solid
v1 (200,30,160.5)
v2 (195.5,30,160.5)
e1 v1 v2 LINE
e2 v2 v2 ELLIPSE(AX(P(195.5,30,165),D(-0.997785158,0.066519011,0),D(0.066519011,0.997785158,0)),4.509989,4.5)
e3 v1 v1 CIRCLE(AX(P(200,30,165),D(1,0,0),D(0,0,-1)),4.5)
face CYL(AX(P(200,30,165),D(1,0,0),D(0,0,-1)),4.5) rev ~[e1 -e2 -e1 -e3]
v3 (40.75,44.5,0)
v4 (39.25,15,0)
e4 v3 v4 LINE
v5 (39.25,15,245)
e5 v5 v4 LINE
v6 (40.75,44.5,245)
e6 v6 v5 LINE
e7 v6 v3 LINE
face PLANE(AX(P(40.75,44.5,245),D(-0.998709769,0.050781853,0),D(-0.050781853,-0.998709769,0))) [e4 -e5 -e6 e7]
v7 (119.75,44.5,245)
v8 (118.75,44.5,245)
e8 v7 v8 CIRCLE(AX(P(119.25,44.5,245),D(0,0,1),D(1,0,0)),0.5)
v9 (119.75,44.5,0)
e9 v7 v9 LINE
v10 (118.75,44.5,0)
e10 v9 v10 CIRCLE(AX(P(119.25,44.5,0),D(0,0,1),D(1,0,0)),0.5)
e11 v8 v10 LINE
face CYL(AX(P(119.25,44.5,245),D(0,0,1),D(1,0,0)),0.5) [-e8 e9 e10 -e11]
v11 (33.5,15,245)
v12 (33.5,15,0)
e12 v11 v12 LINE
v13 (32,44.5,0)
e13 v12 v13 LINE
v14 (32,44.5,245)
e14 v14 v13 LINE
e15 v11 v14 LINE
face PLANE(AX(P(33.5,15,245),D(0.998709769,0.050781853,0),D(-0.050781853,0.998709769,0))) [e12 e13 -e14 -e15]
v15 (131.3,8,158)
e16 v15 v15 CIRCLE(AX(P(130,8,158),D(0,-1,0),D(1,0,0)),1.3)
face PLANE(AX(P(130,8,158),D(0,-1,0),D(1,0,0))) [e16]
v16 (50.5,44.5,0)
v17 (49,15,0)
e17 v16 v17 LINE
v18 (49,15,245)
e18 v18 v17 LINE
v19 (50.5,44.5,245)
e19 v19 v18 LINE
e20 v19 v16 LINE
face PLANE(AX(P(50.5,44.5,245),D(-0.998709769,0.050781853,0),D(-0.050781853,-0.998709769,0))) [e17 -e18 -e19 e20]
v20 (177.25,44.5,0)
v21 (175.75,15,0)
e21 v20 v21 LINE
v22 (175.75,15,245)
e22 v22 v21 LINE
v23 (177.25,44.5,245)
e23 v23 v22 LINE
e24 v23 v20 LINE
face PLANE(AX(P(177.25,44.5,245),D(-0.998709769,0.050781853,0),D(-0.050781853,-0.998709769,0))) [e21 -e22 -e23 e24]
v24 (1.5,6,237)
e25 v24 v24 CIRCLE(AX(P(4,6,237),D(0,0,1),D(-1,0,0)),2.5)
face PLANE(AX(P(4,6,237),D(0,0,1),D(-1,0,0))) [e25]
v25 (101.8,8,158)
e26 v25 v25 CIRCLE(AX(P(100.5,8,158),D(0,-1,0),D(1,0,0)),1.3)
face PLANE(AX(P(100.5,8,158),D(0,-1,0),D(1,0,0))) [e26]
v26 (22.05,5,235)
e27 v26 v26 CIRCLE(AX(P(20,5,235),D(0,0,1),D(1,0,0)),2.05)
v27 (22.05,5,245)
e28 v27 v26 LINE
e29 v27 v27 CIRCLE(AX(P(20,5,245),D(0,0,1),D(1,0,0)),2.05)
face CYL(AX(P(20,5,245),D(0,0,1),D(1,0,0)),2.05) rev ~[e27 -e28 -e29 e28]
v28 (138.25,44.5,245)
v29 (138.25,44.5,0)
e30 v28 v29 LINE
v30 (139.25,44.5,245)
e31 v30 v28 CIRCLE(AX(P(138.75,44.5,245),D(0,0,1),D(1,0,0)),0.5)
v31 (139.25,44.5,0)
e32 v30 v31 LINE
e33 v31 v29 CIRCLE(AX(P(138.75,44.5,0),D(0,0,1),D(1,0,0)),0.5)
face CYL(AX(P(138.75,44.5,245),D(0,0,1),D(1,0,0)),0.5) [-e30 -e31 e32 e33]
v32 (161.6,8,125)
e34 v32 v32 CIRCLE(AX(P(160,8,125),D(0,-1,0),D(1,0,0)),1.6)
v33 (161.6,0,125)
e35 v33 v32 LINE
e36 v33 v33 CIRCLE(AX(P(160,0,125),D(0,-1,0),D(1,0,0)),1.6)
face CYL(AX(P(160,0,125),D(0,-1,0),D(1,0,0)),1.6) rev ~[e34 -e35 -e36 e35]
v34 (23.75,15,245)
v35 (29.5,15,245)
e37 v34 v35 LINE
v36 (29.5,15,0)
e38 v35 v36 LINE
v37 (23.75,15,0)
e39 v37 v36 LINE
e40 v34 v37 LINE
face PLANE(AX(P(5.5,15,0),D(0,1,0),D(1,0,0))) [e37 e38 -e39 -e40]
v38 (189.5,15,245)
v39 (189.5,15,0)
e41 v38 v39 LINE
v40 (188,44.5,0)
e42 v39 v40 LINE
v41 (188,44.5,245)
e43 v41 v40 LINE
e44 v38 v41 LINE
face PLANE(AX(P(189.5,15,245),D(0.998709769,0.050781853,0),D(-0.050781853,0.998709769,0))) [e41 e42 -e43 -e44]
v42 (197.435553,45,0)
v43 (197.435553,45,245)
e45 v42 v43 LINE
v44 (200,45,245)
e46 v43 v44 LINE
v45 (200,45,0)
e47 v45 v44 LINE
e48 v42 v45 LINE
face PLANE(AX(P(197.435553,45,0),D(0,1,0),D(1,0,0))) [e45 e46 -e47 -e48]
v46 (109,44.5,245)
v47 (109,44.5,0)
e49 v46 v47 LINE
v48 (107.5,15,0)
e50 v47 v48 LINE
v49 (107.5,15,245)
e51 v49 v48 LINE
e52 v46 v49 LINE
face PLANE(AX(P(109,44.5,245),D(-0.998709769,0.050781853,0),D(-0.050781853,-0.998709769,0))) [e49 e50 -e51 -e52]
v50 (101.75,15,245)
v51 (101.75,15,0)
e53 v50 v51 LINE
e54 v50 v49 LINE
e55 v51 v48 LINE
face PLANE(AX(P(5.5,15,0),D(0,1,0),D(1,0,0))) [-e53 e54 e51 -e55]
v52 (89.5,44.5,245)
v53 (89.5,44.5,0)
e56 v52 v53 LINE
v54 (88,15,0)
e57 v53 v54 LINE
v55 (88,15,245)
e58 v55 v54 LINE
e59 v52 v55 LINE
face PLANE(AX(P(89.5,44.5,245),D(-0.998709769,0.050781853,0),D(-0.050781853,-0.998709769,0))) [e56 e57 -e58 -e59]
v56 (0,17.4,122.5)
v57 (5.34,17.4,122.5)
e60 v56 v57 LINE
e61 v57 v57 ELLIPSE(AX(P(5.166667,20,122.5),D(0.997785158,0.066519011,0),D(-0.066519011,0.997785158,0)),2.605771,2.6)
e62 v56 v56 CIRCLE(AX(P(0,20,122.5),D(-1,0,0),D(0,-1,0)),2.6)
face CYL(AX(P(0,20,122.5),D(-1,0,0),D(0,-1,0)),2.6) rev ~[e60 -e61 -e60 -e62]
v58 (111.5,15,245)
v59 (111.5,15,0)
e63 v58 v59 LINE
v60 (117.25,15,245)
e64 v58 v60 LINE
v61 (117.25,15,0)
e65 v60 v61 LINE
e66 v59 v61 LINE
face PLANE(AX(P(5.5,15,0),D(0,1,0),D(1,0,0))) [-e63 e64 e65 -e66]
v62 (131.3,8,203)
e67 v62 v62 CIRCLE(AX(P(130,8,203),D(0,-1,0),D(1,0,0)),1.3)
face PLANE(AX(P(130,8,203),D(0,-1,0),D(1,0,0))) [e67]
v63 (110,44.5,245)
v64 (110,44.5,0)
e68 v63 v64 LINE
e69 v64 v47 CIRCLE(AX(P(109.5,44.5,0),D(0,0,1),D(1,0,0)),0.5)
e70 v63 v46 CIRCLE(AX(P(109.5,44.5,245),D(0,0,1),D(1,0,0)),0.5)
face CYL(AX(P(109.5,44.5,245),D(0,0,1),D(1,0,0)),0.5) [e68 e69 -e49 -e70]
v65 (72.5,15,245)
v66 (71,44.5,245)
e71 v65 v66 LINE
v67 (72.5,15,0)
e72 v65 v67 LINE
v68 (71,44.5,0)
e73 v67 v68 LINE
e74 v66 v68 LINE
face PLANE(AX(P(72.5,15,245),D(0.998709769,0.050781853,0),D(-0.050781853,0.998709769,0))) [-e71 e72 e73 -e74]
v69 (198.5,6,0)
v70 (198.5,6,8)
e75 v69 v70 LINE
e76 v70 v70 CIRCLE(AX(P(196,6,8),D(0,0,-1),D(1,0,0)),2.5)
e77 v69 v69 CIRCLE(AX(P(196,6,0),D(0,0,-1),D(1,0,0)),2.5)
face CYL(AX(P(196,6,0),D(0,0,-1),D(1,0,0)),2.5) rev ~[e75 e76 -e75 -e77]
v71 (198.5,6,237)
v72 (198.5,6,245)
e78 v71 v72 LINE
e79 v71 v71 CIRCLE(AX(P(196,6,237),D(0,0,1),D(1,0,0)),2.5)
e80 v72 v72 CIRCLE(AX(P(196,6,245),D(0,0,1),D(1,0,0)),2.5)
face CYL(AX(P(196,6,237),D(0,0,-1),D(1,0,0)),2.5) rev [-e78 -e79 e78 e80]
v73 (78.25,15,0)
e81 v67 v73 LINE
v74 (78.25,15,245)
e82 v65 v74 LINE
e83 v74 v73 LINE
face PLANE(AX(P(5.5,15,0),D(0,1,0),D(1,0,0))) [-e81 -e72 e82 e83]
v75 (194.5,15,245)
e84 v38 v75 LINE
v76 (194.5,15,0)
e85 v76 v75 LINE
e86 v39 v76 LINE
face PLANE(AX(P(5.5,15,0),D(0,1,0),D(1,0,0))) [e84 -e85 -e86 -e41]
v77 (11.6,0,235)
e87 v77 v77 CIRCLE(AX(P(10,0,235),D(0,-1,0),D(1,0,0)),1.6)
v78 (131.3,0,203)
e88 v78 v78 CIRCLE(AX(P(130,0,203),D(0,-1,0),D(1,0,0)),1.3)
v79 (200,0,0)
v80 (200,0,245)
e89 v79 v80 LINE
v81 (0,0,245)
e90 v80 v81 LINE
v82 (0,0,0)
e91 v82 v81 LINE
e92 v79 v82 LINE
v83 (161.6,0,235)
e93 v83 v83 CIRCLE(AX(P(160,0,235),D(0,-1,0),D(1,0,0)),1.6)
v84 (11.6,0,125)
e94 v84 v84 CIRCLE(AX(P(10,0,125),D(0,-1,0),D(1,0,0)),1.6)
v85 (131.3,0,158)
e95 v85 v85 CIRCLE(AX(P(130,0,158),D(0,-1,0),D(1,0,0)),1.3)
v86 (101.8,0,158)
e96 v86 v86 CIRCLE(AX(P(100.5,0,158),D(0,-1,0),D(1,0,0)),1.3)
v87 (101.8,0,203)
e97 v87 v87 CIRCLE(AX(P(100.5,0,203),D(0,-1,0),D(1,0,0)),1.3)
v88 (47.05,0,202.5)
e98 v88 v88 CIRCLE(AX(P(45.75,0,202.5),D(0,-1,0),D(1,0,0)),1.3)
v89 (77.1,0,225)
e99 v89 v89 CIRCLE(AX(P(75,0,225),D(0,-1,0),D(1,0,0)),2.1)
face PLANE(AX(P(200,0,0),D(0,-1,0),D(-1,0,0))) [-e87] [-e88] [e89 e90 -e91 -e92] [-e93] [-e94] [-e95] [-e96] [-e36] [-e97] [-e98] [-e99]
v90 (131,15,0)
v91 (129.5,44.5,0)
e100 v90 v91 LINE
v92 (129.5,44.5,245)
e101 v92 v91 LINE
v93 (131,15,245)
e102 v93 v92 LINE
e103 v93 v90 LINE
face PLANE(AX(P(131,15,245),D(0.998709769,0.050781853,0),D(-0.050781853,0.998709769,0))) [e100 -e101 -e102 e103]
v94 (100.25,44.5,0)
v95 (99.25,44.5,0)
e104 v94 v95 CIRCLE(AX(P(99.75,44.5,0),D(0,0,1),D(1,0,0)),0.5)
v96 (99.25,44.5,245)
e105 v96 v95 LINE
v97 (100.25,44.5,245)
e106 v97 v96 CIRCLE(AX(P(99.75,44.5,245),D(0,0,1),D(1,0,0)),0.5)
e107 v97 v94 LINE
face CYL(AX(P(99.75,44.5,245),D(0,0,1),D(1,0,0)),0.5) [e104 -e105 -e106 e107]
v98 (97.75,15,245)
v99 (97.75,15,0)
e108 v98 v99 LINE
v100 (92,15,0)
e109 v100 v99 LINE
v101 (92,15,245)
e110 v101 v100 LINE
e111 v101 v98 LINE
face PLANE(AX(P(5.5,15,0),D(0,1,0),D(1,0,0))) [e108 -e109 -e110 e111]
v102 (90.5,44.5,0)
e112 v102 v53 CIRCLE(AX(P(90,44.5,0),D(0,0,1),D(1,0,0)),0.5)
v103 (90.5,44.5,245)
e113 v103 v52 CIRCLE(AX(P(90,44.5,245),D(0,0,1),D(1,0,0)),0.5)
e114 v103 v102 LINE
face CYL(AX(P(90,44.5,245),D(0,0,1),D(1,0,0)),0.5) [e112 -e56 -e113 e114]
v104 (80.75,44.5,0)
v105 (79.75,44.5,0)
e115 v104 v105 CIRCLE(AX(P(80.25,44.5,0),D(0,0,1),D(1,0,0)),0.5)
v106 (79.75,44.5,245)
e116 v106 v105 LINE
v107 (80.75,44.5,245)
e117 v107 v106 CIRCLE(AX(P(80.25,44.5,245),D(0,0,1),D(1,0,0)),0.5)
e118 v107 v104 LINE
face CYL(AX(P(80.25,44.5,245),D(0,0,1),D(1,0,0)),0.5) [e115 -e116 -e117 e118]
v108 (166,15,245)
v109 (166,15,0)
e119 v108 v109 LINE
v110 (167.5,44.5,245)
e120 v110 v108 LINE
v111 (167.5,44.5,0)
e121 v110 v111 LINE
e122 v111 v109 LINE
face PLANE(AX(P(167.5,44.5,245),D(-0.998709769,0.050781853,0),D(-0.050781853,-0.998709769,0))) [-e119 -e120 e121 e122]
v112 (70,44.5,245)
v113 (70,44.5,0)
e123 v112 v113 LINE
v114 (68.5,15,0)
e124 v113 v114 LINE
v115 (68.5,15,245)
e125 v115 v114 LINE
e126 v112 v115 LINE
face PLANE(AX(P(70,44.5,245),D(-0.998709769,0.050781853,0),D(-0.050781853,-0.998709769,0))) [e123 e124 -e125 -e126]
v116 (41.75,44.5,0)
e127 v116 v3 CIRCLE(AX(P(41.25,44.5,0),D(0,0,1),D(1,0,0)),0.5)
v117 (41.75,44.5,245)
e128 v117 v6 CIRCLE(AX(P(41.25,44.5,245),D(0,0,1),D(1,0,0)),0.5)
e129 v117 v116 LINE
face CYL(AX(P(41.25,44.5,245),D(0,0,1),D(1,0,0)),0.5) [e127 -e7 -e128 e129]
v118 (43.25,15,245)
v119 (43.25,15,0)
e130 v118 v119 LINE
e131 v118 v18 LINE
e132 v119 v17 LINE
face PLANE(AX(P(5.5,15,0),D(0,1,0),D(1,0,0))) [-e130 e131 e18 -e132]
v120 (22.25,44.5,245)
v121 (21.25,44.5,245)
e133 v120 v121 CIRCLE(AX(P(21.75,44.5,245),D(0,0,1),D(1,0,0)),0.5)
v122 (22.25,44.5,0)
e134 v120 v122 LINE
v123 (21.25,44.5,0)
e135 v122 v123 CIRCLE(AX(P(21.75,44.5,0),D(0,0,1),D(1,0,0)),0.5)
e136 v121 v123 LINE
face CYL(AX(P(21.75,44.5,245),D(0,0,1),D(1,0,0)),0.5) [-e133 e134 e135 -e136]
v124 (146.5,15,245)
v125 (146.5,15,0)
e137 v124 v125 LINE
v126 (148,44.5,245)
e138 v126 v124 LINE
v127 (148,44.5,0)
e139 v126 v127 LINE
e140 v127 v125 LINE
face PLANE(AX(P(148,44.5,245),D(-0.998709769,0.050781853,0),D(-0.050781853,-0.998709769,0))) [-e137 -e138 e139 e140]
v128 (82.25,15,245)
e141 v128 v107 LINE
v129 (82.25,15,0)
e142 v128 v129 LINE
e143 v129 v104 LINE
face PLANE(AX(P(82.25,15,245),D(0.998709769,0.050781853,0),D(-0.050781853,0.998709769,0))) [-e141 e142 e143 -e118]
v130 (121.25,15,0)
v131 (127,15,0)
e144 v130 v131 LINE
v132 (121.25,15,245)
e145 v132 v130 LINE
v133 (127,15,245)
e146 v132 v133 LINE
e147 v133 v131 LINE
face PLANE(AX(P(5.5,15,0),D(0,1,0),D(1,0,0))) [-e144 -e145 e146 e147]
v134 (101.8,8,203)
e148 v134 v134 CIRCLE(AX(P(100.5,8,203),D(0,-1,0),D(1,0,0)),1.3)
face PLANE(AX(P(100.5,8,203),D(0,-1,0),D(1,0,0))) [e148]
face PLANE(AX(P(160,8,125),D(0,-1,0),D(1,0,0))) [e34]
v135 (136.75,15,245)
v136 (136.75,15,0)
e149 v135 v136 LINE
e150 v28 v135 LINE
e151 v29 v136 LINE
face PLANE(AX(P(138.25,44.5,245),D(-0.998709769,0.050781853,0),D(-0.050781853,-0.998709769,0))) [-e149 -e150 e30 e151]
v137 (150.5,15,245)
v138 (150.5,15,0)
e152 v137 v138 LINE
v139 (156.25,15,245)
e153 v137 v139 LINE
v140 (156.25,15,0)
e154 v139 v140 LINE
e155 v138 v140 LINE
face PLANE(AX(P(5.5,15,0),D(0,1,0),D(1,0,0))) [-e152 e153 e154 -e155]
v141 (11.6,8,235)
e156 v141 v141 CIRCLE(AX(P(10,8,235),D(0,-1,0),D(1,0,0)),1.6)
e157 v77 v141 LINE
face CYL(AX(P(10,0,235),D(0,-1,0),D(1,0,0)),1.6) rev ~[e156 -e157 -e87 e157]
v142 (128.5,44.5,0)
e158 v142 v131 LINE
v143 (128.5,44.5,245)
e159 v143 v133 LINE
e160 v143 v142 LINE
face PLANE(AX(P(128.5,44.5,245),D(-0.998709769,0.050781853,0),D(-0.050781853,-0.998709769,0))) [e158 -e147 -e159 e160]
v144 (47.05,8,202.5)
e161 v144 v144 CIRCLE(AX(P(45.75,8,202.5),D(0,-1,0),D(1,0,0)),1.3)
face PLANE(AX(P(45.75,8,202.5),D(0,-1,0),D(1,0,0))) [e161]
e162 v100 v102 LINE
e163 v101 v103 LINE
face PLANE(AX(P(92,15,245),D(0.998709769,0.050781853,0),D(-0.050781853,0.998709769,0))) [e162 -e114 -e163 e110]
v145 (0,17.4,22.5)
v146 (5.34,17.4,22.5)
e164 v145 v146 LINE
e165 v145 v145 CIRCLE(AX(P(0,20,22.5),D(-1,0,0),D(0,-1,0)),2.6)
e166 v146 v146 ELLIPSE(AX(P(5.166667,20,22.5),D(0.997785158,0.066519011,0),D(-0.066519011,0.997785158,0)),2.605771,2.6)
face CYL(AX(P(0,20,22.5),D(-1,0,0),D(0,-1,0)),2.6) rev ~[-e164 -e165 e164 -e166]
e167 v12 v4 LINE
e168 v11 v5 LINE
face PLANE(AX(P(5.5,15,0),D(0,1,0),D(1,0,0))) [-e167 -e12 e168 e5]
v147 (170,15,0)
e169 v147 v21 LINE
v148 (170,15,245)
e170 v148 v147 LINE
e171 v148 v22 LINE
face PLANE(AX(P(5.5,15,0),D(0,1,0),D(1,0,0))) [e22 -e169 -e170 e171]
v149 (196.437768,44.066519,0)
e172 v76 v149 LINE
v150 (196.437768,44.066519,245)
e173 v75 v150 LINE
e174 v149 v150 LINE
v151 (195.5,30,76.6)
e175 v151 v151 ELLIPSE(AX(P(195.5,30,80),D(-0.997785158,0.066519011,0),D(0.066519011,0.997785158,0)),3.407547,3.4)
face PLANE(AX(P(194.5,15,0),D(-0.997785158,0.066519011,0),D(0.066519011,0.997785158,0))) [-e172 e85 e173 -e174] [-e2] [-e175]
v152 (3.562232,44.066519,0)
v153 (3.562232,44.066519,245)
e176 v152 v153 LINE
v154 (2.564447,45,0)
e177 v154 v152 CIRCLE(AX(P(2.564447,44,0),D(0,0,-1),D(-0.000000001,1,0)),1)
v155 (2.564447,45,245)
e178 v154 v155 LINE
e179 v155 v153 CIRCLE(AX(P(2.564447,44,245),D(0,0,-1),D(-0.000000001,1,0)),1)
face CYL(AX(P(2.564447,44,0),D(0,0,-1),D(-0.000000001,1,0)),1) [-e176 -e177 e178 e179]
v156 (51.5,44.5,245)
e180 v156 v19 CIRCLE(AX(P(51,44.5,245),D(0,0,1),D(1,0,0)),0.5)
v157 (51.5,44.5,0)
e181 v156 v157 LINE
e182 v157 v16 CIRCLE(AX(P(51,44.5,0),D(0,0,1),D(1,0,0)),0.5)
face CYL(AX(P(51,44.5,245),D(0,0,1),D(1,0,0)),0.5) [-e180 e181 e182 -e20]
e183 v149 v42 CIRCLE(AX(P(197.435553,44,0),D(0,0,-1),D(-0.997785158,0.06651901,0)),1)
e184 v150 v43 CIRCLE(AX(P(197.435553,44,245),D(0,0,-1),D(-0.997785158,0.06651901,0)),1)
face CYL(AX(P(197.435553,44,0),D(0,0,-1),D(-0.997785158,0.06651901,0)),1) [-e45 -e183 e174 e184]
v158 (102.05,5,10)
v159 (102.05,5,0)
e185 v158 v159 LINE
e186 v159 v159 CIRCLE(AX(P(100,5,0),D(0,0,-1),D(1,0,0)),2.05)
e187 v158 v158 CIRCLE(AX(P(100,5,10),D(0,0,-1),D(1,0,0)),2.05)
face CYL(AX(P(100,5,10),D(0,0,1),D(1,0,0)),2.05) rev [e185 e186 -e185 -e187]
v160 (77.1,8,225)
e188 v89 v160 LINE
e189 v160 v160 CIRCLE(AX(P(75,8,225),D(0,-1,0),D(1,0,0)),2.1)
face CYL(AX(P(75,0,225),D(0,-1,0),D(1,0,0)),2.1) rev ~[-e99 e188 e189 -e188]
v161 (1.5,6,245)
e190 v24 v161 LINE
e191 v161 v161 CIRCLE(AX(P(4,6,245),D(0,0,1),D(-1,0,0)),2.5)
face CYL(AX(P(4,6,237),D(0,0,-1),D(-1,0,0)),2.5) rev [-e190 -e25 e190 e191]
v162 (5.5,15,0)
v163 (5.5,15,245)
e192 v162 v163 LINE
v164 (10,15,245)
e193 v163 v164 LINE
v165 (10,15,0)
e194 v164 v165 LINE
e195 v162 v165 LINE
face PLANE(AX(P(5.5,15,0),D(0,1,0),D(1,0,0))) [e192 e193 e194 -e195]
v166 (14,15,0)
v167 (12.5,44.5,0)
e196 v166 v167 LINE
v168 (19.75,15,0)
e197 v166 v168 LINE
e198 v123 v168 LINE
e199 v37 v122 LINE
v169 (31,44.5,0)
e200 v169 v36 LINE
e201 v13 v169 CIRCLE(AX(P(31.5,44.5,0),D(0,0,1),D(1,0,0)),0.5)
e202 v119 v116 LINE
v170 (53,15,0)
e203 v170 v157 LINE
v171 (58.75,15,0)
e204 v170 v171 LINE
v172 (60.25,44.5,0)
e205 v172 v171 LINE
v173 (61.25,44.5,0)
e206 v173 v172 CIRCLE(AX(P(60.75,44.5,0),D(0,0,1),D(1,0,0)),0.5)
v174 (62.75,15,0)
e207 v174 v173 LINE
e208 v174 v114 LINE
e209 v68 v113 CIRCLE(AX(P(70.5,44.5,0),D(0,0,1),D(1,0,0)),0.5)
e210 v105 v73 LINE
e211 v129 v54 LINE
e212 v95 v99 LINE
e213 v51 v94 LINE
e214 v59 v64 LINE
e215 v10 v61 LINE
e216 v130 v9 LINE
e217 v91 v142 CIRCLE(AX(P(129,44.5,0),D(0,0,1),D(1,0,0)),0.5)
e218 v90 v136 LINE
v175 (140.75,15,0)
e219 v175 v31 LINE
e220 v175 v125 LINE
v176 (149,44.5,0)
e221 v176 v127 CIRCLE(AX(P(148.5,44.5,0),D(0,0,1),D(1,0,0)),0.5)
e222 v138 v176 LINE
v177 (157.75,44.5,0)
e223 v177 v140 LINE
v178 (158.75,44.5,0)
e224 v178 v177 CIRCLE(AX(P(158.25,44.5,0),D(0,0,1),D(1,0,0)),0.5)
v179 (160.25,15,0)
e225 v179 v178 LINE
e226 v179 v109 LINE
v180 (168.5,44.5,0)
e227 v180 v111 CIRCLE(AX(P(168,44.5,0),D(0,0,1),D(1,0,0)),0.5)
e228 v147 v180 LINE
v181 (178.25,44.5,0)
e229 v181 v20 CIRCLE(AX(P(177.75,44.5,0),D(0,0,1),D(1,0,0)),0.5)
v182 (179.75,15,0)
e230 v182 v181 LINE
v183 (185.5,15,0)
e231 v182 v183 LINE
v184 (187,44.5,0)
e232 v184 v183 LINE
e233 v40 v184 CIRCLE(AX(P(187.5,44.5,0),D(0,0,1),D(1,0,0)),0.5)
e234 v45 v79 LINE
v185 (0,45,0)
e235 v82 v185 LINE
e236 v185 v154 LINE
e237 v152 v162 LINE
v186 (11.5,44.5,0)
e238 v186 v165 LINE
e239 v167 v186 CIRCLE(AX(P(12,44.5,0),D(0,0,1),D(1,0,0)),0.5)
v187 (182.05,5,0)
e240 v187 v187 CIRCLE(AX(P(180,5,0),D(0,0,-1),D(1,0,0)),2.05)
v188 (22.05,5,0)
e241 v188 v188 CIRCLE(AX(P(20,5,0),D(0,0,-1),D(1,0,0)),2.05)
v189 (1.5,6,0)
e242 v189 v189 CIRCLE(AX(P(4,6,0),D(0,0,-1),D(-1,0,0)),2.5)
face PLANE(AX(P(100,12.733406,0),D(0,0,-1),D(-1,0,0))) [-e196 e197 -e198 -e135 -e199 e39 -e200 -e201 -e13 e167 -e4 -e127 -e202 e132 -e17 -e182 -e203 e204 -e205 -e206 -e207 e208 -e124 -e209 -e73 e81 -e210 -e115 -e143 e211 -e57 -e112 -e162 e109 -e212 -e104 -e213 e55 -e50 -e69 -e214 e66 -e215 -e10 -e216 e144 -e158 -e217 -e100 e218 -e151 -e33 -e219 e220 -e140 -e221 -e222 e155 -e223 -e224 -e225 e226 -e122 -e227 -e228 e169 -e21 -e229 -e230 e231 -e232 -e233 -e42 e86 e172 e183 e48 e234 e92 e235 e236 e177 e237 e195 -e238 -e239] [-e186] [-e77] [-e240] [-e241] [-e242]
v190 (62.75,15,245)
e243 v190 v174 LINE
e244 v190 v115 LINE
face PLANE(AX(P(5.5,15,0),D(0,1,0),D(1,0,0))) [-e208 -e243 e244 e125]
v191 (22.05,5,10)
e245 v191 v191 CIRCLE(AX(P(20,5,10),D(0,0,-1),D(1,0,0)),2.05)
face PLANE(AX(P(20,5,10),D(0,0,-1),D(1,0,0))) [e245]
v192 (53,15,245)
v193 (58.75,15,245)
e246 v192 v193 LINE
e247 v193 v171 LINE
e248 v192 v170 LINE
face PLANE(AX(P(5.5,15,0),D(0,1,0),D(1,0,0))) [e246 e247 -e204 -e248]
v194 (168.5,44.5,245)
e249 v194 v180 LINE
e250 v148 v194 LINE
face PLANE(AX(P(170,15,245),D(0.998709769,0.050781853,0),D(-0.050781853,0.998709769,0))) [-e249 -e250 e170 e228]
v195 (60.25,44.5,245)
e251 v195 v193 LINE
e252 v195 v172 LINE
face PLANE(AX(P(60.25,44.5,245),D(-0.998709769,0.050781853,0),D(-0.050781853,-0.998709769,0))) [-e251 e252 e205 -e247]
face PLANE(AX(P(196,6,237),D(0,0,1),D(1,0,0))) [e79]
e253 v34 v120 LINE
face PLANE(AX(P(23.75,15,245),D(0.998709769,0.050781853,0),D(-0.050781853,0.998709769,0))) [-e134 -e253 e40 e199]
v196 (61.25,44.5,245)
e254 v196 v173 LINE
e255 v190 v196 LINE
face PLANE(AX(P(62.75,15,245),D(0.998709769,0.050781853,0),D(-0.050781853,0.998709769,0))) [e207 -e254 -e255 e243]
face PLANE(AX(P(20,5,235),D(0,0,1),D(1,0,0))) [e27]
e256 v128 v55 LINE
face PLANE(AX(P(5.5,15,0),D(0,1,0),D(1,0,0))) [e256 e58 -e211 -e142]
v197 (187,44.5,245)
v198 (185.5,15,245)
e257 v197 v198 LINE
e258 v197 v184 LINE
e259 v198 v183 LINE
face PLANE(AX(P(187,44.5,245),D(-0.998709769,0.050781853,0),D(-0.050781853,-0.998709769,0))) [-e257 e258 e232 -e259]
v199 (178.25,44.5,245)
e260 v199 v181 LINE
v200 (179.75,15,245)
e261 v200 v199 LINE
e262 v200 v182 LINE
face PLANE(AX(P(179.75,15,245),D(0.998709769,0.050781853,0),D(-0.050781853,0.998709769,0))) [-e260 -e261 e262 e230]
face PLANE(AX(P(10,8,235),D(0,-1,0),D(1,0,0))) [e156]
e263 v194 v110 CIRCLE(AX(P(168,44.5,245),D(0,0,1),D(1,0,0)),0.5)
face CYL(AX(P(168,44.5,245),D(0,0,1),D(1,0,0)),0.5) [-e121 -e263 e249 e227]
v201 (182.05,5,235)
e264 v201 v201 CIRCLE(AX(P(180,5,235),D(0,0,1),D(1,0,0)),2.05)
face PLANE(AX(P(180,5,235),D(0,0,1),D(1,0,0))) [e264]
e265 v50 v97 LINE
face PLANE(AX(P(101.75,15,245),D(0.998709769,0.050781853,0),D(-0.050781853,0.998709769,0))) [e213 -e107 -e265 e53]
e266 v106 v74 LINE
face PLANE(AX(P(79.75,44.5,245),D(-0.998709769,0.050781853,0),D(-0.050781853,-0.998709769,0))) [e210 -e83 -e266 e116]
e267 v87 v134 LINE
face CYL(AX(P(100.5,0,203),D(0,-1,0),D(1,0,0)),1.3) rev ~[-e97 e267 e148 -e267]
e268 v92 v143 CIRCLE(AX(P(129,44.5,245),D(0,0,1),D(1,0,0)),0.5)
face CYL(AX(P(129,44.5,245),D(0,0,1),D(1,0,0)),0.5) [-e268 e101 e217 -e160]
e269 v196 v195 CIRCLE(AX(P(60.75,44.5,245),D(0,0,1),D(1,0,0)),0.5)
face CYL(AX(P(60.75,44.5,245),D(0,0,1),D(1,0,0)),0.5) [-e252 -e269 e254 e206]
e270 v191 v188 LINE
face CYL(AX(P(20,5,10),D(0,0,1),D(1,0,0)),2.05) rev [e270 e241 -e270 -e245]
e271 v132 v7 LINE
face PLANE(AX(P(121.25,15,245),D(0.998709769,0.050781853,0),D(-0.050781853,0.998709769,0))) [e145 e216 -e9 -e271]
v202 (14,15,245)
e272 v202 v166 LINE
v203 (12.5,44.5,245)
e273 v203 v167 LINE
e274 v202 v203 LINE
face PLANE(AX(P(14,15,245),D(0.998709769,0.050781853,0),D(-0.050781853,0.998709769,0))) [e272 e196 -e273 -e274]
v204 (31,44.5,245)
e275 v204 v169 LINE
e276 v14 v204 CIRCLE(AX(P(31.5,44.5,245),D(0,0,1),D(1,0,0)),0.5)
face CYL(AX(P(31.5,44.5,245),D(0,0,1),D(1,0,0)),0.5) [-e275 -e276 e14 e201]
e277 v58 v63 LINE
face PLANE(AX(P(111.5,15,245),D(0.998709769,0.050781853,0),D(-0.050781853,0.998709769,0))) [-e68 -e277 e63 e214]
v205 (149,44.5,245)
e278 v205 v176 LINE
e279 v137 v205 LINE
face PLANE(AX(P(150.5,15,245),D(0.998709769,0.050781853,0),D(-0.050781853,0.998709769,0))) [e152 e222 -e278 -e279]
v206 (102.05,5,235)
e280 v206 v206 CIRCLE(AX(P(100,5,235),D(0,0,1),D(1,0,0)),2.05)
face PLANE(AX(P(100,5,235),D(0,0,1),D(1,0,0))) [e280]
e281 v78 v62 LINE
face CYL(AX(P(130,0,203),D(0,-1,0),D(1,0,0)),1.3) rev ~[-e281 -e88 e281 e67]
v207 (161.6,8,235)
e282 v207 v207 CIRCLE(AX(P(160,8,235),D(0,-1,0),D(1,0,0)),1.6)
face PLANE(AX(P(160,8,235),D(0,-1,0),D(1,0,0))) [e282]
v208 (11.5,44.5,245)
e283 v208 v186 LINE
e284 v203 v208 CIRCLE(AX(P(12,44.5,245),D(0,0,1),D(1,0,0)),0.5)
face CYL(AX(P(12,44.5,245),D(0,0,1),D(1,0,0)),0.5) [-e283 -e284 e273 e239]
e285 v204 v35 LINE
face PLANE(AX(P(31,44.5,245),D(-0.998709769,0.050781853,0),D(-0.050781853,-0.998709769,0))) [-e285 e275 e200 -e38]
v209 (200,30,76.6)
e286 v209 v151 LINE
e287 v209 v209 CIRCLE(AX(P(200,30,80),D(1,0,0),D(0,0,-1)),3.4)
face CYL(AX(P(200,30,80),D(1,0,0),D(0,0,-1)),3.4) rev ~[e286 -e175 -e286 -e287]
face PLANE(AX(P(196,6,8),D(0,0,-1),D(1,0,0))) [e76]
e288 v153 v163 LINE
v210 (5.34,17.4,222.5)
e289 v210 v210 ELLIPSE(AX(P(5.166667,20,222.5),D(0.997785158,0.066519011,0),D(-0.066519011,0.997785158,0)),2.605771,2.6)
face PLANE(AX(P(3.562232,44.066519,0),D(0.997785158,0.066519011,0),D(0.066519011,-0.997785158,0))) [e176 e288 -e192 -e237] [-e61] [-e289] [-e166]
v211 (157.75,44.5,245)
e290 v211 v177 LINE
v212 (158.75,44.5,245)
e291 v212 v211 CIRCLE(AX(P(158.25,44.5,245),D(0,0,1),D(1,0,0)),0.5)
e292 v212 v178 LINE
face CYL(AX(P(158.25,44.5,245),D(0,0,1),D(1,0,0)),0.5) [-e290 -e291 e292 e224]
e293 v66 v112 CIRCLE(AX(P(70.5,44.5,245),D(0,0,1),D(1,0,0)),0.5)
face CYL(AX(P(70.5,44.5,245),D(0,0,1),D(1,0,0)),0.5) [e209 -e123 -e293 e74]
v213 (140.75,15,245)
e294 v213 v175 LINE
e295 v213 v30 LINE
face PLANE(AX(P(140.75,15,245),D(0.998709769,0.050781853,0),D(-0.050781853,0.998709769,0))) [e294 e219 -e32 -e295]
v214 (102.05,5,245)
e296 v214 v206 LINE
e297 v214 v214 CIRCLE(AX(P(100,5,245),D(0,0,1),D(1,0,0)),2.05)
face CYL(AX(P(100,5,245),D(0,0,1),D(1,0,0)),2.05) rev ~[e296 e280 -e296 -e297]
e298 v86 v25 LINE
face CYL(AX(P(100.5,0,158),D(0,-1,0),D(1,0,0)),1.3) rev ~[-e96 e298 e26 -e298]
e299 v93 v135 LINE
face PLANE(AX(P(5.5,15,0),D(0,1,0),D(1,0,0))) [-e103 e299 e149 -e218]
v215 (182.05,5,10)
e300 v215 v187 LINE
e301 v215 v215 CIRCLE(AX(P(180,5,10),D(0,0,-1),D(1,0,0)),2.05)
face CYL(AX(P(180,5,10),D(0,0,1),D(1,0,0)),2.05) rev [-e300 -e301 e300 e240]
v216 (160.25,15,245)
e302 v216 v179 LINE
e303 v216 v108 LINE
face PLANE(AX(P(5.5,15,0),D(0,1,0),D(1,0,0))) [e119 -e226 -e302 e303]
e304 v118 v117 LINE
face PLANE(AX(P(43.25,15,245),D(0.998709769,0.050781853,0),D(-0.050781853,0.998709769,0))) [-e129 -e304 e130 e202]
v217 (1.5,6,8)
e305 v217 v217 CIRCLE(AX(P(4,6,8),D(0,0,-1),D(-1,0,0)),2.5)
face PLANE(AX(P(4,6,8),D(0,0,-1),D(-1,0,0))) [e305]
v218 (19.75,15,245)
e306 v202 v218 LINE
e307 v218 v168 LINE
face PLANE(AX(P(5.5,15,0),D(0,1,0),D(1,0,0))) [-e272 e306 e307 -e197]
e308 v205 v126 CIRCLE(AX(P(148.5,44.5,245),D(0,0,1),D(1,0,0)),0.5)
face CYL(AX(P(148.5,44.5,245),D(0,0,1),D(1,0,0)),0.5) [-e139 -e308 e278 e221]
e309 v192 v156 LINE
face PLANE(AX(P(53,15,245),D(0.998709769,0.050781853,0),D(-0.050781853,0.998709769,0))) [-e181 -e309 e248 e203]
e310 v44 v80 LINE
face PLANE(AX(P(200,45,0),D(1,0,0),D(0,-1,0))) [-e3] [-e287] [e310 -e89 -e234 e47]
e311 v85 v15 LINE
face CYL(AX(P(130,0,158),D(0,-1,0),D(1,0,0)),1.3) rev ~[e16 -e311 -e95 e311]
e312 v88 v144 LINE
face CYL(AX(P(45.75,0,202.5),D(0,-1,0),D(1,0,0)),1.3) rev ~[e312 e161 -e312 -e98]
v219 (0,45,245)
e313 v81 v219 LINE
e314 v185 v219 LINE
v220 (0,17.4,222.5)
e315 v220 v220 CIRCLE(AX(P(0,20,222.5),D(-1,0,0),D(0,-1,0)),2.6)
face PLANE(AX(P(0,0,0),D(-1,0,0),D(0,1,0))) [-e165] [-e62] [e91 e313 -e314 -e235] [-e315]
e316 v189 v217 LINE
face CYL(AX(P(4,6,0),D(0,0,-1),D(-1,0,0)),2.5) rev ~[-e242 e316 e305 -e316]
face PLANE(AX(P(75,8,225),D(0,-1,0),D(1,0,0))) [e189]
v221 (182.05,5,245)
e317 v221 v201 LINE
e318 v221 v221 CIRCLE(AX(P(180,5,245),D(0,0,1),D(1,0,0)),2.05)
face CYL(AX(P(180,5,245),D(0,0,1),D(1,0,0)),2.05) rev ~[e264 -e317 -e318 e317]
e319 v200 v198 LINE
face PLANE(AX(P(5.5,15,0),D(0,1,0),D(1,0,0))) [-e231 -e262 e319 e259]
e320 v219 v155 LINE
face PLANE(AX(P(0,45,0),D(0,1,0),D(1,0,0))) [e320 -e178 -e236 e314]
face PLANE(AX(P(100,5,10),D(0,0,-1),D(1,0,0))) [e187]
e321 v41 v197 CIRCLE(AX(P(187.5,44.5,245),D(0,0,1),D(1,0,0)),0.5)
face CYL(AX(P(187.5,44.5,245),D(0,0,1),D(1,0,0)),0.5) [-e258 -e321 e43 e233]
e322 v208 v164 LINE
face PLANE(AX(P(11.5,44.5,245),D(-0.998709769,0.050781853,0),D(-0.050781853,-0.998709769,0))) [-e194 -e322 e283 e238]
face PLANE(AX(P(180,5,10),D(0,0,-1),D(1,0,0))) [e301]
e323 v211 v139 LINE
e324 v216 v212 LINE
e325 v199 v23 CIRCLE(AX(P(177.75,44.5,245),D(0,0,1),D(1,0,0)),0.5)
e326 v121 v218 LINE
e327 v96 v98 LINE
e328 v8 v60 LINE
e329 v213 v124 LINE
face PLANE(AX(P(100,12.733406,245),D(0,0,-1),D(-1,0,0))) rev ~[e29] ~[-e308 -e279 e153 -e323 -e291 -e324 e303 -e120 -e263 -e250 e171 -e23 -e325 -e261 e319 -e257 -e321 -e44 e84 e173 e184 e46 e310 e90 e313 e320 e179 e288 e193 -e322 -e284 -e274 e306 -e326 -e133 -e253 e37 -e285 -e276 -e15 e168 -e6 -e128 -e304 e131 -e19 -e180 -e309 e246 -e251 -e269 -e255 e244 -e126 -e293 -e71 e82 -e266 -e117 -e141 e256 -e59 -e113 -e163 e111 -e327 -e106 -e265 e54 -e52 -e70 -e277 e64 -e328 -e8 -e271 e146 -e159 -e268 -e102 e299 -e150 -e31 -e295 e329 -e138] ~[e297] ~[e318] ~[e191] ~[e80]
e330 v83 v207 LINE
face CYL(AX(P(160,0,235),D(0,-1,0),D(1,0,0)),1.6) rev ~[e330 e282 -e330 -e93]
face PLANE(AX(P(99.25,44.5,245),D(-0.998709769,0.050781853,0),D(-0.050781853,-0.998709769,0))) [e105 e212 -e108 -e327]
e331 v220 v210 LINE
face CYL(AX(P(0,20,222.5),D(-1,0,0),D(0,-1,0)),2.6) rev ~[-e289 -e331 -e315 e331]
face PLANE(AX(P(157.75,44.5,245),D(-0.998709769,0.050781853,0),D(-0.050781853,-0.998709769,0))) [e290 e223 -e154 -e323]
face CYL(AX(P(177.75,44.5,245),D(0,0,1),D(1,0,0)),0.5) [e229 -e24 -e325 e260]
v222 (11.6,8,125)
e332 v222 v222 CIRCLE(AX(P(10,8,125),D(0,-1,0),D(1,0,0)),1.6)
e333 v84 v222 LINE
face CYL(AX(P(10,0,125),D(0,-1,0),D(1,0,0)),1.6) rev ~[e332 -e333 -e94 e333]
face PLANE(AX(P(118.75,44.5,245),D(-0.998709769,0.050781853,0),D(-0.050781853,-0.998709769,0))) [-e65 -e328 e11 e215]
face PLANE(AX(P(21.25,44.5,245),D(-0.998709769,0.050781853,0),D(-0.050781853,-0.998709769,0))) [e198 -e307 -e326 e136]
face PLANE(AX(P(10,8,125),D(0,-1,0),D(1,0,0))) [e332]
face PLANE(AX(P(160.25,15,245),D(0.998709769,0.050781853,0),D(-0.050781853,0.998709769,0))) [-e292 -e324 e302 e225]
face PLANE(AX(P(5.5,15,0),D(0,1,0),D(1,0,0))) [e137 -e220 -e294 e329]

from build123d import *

# Parameters (mm, degrees)
EXTRUDE_1_DEPTH       = 245
EXTRUDE_3_DEPTH       = 245
PATTERN_CURVE_1_COUNT = 19
PATTERN_CURVE_1_PITCH = 9.75
SKETCH_3_R            = 2.05
CUT_EXTRUDE_1_DEPTH   = 10
CUT_EXTRUDE_START     = -10
SKETCH_5_R            = 2.05
CUT_EXTRUDE_2_DEPTH   = 10
SKETCH_6_R            = 2.5
CUT_EXTRUDE_3_DEPTH   = 8
SKETCH_7_R            = 2.6
CUT_EXTRUDE_4_DEPTH   = 6
SKETCH_8_R            = 3.4
SKETCH_8_R_2          = 4.5
CUT_EXTRUDE_5_DEPTH   = 6
CUT_EXTRUDE_START_2   = -8
SKETCH_10_R           = 2.5
CUT_EXTRUDE_7_DEPTH   = 8
SKETCH_12_R           = 1.3
SKETCH_12_R_2         = 1.6
SKETCH_12_R_3         = 2.1
CUT_EXTRUDE_8_DEPTH   = 8


with BuildPart() as part:
    # Эскиз1 → Вытянуть1 (new body)
    with BuildSketch(Plane.XY):
        with BuildLine():
            Line((0, 45), (2.564446908, 45))
            ThreePointArc((2.564446908, 45), (3.247630994, 44.730246195), (3.562232066, 44.066519011))
            Line((3.562232066, 44.066519011), (5.5, 15))
            Line((5.5, 15), (194.5, 15))
            Line((194.5, 15), (196.437767934, 44.066519011))
            ThreePointArc((196.437767934, 44.066519011), (196.752369006, 44.730246195), (197.435553092, 45))
            Line((197.435553092, 45), (200, 45))
            Line((200, 45), (200, 0))
            Line((200, 0), (0, 0))
            Line((0, 0), (0, 45))
        make_face()
    extrude(amount=EXTRUDE_1_DEPTH)

    # Эскиз2 → Вытянуть3 (add)
    with BuildSketch(Plane.XY.offset(245)):
        with BuildLine():
            Line((11.5, 44.5), (10, 15))
            Line((10, 15), (14, 15))
            Line((14, 15), (12.5, 44.5))
            ThreePointArc((12.5, 44.5), (12, 45), (11.5, 44.5))
        make_face()
    extrude_3 = extrude(amount=-EXTRUDE_3_DEPTH)

    # Кривая1: Вытянуть3 ×19
    with Locations(*[(i * PATTERN_CURVE_1_PITCH, 0, 0) for i in range(1, PATTERN_CURVE_1_COUNT)]):
        add(extrude_3)

    # Эскиз3 → Вырез-Вытянуть1 (cut)
    with BuildSketch(Plane.XY.offset(245)):
        with Locations((20, 5)):
            Circle(SKETCH_3_R)
        with Locations((100, 5)):
            Circle(SKETCH_3_R)
        with Locations((180, 5)):
            Circle(SKETCH_3_R)
    extrude(amount=-CUT_EXTRUDE_1_DEPTH, mode=Mode.SUBTRACT)

    # Эскиз5 → Вырез-Вытянуть2 (cut)
    with BuildSketch(Plane(origin=(0, 0, 0), x_dir=(-1, 0, 0), z_dir=(0, 0, -1)).offset(CUT_EXTRUDE_START)):
        with Locations(Location((-180, 5, 0), (0, 0, 180))):
            Circle(SKETCH_5_R)
        with Locations(Location((-100, 5, 0), (0, 0, 180))):
            Circle(SKETCH_5_R)
        with Locations(Location((-20, 5, 0), (0, 0, 180))):
            Circle(SKETCH_5_R)
    extrude(amount=CUT_EXTRUDE_2_DEPTH, mode=Mode.SUBTRACT)

    # Эскиз6 → Вырез-Вытянуть3 (cut)
    with BuildSketch(Plane(origin=(0, 0, 0), x_dir=(-1, 0, 0), z_dir=(0, 0, -1))):
        with Locations((-4, 6)):
            Circle(SKETCH_6_R)
        with Locations(Location((-196, 6, 0), (0, 0, 180))):
            Circle(SKETCH_6_R)
    extrude(amount=-CUT_EXTRUDE_3_DEPTH, mode=Mode.SUBTRACT)

    # Эскиз7 → Вырез-Вытянуть4 (cut)
    with BuildSketch(Plane.ZY):
        with Locations(Location((22.5, 20, 0), (0, 0, 270))):
            Circle(SKETCH_7_R)
        with Locations(Location((222.5, 20, 0), (0, 0, 270))):
            Circle(SKETCH_7_R)
        with Locations(Location((122.5, 20, 0), (0, 0, 270))):
            Circle(SKETCH_7_R)
    extrude(amount=-CUT_EXTRUDE_4_DEPTH, mode=Mode.SUBTRACT)

    # Эскиз8 → Вырез-Вытянуть5 (cut)
    with BuildSketch(Plane(origin=(200, 0, 0), x_dir=(0, 0, -1), z_dir=(1, 0, 0))):
        with Locations((-80, 30)):
            Circle(SKETCH_8_R)
        with Locations((-165, 30)):
            Circle(SKETCH_8_R_2)
    extrude(amount=-CUT_EXTRUDE_5_DEPTH, mode=Mode.SUBTRACT)

    # Эскиз10 → Вырез-Вытянуть7 (cut)
    with BuildSketch(Plane.XY.offset(245).offset(CUT_EXTRUDE_START_2)):
        with Locations((196, 6)):
            Circle(SKETCH_10_R)
        with Locations(Location((4, 6, 0), (0, 0, 180))):
            Circle(SKETCH_10_R)
    extrude(amount=CUT_EXTRUDE_7_DEPTH, mode=Mode.SUBTRACT)

    # Эскиз12 → Вырез-Вытянуть8 (cut)
    with BuildSketch(Plane.XZ):
        with Locations((45.75, 202.5)):
            Circle(SKETCH_12_R)
        with Locations((10, 235)):
            Circle(SKETCH_12_R_2)
        with Locations((10, 125)):
            Circle(SKETCH_12_R_2)
        with Locations((160, 235)):
            Circle(SKETCH_12_R_2)
        with Locations((160, 125)):
            Circle(SKETCH_12_R_2)
        with Locations((75, 225)):
            Circle(SKETCH_12_R_3)
        with Locations((100.5, 203)):
            Circle(SKETCH_12_R)
        with Locations((100.5, 158)):
            Circle(SKETCH_12_R)
        with Locations((130, 203)):
            Circle(SKETCH_12_R)
        with Locations((130, 158)):
            Circle(SKETCH_12_R)
    extrude(amount=-CUT_EXTRUDE_8_DEPTH, mode=Mode.SUBTRACT)


solid = part.part
